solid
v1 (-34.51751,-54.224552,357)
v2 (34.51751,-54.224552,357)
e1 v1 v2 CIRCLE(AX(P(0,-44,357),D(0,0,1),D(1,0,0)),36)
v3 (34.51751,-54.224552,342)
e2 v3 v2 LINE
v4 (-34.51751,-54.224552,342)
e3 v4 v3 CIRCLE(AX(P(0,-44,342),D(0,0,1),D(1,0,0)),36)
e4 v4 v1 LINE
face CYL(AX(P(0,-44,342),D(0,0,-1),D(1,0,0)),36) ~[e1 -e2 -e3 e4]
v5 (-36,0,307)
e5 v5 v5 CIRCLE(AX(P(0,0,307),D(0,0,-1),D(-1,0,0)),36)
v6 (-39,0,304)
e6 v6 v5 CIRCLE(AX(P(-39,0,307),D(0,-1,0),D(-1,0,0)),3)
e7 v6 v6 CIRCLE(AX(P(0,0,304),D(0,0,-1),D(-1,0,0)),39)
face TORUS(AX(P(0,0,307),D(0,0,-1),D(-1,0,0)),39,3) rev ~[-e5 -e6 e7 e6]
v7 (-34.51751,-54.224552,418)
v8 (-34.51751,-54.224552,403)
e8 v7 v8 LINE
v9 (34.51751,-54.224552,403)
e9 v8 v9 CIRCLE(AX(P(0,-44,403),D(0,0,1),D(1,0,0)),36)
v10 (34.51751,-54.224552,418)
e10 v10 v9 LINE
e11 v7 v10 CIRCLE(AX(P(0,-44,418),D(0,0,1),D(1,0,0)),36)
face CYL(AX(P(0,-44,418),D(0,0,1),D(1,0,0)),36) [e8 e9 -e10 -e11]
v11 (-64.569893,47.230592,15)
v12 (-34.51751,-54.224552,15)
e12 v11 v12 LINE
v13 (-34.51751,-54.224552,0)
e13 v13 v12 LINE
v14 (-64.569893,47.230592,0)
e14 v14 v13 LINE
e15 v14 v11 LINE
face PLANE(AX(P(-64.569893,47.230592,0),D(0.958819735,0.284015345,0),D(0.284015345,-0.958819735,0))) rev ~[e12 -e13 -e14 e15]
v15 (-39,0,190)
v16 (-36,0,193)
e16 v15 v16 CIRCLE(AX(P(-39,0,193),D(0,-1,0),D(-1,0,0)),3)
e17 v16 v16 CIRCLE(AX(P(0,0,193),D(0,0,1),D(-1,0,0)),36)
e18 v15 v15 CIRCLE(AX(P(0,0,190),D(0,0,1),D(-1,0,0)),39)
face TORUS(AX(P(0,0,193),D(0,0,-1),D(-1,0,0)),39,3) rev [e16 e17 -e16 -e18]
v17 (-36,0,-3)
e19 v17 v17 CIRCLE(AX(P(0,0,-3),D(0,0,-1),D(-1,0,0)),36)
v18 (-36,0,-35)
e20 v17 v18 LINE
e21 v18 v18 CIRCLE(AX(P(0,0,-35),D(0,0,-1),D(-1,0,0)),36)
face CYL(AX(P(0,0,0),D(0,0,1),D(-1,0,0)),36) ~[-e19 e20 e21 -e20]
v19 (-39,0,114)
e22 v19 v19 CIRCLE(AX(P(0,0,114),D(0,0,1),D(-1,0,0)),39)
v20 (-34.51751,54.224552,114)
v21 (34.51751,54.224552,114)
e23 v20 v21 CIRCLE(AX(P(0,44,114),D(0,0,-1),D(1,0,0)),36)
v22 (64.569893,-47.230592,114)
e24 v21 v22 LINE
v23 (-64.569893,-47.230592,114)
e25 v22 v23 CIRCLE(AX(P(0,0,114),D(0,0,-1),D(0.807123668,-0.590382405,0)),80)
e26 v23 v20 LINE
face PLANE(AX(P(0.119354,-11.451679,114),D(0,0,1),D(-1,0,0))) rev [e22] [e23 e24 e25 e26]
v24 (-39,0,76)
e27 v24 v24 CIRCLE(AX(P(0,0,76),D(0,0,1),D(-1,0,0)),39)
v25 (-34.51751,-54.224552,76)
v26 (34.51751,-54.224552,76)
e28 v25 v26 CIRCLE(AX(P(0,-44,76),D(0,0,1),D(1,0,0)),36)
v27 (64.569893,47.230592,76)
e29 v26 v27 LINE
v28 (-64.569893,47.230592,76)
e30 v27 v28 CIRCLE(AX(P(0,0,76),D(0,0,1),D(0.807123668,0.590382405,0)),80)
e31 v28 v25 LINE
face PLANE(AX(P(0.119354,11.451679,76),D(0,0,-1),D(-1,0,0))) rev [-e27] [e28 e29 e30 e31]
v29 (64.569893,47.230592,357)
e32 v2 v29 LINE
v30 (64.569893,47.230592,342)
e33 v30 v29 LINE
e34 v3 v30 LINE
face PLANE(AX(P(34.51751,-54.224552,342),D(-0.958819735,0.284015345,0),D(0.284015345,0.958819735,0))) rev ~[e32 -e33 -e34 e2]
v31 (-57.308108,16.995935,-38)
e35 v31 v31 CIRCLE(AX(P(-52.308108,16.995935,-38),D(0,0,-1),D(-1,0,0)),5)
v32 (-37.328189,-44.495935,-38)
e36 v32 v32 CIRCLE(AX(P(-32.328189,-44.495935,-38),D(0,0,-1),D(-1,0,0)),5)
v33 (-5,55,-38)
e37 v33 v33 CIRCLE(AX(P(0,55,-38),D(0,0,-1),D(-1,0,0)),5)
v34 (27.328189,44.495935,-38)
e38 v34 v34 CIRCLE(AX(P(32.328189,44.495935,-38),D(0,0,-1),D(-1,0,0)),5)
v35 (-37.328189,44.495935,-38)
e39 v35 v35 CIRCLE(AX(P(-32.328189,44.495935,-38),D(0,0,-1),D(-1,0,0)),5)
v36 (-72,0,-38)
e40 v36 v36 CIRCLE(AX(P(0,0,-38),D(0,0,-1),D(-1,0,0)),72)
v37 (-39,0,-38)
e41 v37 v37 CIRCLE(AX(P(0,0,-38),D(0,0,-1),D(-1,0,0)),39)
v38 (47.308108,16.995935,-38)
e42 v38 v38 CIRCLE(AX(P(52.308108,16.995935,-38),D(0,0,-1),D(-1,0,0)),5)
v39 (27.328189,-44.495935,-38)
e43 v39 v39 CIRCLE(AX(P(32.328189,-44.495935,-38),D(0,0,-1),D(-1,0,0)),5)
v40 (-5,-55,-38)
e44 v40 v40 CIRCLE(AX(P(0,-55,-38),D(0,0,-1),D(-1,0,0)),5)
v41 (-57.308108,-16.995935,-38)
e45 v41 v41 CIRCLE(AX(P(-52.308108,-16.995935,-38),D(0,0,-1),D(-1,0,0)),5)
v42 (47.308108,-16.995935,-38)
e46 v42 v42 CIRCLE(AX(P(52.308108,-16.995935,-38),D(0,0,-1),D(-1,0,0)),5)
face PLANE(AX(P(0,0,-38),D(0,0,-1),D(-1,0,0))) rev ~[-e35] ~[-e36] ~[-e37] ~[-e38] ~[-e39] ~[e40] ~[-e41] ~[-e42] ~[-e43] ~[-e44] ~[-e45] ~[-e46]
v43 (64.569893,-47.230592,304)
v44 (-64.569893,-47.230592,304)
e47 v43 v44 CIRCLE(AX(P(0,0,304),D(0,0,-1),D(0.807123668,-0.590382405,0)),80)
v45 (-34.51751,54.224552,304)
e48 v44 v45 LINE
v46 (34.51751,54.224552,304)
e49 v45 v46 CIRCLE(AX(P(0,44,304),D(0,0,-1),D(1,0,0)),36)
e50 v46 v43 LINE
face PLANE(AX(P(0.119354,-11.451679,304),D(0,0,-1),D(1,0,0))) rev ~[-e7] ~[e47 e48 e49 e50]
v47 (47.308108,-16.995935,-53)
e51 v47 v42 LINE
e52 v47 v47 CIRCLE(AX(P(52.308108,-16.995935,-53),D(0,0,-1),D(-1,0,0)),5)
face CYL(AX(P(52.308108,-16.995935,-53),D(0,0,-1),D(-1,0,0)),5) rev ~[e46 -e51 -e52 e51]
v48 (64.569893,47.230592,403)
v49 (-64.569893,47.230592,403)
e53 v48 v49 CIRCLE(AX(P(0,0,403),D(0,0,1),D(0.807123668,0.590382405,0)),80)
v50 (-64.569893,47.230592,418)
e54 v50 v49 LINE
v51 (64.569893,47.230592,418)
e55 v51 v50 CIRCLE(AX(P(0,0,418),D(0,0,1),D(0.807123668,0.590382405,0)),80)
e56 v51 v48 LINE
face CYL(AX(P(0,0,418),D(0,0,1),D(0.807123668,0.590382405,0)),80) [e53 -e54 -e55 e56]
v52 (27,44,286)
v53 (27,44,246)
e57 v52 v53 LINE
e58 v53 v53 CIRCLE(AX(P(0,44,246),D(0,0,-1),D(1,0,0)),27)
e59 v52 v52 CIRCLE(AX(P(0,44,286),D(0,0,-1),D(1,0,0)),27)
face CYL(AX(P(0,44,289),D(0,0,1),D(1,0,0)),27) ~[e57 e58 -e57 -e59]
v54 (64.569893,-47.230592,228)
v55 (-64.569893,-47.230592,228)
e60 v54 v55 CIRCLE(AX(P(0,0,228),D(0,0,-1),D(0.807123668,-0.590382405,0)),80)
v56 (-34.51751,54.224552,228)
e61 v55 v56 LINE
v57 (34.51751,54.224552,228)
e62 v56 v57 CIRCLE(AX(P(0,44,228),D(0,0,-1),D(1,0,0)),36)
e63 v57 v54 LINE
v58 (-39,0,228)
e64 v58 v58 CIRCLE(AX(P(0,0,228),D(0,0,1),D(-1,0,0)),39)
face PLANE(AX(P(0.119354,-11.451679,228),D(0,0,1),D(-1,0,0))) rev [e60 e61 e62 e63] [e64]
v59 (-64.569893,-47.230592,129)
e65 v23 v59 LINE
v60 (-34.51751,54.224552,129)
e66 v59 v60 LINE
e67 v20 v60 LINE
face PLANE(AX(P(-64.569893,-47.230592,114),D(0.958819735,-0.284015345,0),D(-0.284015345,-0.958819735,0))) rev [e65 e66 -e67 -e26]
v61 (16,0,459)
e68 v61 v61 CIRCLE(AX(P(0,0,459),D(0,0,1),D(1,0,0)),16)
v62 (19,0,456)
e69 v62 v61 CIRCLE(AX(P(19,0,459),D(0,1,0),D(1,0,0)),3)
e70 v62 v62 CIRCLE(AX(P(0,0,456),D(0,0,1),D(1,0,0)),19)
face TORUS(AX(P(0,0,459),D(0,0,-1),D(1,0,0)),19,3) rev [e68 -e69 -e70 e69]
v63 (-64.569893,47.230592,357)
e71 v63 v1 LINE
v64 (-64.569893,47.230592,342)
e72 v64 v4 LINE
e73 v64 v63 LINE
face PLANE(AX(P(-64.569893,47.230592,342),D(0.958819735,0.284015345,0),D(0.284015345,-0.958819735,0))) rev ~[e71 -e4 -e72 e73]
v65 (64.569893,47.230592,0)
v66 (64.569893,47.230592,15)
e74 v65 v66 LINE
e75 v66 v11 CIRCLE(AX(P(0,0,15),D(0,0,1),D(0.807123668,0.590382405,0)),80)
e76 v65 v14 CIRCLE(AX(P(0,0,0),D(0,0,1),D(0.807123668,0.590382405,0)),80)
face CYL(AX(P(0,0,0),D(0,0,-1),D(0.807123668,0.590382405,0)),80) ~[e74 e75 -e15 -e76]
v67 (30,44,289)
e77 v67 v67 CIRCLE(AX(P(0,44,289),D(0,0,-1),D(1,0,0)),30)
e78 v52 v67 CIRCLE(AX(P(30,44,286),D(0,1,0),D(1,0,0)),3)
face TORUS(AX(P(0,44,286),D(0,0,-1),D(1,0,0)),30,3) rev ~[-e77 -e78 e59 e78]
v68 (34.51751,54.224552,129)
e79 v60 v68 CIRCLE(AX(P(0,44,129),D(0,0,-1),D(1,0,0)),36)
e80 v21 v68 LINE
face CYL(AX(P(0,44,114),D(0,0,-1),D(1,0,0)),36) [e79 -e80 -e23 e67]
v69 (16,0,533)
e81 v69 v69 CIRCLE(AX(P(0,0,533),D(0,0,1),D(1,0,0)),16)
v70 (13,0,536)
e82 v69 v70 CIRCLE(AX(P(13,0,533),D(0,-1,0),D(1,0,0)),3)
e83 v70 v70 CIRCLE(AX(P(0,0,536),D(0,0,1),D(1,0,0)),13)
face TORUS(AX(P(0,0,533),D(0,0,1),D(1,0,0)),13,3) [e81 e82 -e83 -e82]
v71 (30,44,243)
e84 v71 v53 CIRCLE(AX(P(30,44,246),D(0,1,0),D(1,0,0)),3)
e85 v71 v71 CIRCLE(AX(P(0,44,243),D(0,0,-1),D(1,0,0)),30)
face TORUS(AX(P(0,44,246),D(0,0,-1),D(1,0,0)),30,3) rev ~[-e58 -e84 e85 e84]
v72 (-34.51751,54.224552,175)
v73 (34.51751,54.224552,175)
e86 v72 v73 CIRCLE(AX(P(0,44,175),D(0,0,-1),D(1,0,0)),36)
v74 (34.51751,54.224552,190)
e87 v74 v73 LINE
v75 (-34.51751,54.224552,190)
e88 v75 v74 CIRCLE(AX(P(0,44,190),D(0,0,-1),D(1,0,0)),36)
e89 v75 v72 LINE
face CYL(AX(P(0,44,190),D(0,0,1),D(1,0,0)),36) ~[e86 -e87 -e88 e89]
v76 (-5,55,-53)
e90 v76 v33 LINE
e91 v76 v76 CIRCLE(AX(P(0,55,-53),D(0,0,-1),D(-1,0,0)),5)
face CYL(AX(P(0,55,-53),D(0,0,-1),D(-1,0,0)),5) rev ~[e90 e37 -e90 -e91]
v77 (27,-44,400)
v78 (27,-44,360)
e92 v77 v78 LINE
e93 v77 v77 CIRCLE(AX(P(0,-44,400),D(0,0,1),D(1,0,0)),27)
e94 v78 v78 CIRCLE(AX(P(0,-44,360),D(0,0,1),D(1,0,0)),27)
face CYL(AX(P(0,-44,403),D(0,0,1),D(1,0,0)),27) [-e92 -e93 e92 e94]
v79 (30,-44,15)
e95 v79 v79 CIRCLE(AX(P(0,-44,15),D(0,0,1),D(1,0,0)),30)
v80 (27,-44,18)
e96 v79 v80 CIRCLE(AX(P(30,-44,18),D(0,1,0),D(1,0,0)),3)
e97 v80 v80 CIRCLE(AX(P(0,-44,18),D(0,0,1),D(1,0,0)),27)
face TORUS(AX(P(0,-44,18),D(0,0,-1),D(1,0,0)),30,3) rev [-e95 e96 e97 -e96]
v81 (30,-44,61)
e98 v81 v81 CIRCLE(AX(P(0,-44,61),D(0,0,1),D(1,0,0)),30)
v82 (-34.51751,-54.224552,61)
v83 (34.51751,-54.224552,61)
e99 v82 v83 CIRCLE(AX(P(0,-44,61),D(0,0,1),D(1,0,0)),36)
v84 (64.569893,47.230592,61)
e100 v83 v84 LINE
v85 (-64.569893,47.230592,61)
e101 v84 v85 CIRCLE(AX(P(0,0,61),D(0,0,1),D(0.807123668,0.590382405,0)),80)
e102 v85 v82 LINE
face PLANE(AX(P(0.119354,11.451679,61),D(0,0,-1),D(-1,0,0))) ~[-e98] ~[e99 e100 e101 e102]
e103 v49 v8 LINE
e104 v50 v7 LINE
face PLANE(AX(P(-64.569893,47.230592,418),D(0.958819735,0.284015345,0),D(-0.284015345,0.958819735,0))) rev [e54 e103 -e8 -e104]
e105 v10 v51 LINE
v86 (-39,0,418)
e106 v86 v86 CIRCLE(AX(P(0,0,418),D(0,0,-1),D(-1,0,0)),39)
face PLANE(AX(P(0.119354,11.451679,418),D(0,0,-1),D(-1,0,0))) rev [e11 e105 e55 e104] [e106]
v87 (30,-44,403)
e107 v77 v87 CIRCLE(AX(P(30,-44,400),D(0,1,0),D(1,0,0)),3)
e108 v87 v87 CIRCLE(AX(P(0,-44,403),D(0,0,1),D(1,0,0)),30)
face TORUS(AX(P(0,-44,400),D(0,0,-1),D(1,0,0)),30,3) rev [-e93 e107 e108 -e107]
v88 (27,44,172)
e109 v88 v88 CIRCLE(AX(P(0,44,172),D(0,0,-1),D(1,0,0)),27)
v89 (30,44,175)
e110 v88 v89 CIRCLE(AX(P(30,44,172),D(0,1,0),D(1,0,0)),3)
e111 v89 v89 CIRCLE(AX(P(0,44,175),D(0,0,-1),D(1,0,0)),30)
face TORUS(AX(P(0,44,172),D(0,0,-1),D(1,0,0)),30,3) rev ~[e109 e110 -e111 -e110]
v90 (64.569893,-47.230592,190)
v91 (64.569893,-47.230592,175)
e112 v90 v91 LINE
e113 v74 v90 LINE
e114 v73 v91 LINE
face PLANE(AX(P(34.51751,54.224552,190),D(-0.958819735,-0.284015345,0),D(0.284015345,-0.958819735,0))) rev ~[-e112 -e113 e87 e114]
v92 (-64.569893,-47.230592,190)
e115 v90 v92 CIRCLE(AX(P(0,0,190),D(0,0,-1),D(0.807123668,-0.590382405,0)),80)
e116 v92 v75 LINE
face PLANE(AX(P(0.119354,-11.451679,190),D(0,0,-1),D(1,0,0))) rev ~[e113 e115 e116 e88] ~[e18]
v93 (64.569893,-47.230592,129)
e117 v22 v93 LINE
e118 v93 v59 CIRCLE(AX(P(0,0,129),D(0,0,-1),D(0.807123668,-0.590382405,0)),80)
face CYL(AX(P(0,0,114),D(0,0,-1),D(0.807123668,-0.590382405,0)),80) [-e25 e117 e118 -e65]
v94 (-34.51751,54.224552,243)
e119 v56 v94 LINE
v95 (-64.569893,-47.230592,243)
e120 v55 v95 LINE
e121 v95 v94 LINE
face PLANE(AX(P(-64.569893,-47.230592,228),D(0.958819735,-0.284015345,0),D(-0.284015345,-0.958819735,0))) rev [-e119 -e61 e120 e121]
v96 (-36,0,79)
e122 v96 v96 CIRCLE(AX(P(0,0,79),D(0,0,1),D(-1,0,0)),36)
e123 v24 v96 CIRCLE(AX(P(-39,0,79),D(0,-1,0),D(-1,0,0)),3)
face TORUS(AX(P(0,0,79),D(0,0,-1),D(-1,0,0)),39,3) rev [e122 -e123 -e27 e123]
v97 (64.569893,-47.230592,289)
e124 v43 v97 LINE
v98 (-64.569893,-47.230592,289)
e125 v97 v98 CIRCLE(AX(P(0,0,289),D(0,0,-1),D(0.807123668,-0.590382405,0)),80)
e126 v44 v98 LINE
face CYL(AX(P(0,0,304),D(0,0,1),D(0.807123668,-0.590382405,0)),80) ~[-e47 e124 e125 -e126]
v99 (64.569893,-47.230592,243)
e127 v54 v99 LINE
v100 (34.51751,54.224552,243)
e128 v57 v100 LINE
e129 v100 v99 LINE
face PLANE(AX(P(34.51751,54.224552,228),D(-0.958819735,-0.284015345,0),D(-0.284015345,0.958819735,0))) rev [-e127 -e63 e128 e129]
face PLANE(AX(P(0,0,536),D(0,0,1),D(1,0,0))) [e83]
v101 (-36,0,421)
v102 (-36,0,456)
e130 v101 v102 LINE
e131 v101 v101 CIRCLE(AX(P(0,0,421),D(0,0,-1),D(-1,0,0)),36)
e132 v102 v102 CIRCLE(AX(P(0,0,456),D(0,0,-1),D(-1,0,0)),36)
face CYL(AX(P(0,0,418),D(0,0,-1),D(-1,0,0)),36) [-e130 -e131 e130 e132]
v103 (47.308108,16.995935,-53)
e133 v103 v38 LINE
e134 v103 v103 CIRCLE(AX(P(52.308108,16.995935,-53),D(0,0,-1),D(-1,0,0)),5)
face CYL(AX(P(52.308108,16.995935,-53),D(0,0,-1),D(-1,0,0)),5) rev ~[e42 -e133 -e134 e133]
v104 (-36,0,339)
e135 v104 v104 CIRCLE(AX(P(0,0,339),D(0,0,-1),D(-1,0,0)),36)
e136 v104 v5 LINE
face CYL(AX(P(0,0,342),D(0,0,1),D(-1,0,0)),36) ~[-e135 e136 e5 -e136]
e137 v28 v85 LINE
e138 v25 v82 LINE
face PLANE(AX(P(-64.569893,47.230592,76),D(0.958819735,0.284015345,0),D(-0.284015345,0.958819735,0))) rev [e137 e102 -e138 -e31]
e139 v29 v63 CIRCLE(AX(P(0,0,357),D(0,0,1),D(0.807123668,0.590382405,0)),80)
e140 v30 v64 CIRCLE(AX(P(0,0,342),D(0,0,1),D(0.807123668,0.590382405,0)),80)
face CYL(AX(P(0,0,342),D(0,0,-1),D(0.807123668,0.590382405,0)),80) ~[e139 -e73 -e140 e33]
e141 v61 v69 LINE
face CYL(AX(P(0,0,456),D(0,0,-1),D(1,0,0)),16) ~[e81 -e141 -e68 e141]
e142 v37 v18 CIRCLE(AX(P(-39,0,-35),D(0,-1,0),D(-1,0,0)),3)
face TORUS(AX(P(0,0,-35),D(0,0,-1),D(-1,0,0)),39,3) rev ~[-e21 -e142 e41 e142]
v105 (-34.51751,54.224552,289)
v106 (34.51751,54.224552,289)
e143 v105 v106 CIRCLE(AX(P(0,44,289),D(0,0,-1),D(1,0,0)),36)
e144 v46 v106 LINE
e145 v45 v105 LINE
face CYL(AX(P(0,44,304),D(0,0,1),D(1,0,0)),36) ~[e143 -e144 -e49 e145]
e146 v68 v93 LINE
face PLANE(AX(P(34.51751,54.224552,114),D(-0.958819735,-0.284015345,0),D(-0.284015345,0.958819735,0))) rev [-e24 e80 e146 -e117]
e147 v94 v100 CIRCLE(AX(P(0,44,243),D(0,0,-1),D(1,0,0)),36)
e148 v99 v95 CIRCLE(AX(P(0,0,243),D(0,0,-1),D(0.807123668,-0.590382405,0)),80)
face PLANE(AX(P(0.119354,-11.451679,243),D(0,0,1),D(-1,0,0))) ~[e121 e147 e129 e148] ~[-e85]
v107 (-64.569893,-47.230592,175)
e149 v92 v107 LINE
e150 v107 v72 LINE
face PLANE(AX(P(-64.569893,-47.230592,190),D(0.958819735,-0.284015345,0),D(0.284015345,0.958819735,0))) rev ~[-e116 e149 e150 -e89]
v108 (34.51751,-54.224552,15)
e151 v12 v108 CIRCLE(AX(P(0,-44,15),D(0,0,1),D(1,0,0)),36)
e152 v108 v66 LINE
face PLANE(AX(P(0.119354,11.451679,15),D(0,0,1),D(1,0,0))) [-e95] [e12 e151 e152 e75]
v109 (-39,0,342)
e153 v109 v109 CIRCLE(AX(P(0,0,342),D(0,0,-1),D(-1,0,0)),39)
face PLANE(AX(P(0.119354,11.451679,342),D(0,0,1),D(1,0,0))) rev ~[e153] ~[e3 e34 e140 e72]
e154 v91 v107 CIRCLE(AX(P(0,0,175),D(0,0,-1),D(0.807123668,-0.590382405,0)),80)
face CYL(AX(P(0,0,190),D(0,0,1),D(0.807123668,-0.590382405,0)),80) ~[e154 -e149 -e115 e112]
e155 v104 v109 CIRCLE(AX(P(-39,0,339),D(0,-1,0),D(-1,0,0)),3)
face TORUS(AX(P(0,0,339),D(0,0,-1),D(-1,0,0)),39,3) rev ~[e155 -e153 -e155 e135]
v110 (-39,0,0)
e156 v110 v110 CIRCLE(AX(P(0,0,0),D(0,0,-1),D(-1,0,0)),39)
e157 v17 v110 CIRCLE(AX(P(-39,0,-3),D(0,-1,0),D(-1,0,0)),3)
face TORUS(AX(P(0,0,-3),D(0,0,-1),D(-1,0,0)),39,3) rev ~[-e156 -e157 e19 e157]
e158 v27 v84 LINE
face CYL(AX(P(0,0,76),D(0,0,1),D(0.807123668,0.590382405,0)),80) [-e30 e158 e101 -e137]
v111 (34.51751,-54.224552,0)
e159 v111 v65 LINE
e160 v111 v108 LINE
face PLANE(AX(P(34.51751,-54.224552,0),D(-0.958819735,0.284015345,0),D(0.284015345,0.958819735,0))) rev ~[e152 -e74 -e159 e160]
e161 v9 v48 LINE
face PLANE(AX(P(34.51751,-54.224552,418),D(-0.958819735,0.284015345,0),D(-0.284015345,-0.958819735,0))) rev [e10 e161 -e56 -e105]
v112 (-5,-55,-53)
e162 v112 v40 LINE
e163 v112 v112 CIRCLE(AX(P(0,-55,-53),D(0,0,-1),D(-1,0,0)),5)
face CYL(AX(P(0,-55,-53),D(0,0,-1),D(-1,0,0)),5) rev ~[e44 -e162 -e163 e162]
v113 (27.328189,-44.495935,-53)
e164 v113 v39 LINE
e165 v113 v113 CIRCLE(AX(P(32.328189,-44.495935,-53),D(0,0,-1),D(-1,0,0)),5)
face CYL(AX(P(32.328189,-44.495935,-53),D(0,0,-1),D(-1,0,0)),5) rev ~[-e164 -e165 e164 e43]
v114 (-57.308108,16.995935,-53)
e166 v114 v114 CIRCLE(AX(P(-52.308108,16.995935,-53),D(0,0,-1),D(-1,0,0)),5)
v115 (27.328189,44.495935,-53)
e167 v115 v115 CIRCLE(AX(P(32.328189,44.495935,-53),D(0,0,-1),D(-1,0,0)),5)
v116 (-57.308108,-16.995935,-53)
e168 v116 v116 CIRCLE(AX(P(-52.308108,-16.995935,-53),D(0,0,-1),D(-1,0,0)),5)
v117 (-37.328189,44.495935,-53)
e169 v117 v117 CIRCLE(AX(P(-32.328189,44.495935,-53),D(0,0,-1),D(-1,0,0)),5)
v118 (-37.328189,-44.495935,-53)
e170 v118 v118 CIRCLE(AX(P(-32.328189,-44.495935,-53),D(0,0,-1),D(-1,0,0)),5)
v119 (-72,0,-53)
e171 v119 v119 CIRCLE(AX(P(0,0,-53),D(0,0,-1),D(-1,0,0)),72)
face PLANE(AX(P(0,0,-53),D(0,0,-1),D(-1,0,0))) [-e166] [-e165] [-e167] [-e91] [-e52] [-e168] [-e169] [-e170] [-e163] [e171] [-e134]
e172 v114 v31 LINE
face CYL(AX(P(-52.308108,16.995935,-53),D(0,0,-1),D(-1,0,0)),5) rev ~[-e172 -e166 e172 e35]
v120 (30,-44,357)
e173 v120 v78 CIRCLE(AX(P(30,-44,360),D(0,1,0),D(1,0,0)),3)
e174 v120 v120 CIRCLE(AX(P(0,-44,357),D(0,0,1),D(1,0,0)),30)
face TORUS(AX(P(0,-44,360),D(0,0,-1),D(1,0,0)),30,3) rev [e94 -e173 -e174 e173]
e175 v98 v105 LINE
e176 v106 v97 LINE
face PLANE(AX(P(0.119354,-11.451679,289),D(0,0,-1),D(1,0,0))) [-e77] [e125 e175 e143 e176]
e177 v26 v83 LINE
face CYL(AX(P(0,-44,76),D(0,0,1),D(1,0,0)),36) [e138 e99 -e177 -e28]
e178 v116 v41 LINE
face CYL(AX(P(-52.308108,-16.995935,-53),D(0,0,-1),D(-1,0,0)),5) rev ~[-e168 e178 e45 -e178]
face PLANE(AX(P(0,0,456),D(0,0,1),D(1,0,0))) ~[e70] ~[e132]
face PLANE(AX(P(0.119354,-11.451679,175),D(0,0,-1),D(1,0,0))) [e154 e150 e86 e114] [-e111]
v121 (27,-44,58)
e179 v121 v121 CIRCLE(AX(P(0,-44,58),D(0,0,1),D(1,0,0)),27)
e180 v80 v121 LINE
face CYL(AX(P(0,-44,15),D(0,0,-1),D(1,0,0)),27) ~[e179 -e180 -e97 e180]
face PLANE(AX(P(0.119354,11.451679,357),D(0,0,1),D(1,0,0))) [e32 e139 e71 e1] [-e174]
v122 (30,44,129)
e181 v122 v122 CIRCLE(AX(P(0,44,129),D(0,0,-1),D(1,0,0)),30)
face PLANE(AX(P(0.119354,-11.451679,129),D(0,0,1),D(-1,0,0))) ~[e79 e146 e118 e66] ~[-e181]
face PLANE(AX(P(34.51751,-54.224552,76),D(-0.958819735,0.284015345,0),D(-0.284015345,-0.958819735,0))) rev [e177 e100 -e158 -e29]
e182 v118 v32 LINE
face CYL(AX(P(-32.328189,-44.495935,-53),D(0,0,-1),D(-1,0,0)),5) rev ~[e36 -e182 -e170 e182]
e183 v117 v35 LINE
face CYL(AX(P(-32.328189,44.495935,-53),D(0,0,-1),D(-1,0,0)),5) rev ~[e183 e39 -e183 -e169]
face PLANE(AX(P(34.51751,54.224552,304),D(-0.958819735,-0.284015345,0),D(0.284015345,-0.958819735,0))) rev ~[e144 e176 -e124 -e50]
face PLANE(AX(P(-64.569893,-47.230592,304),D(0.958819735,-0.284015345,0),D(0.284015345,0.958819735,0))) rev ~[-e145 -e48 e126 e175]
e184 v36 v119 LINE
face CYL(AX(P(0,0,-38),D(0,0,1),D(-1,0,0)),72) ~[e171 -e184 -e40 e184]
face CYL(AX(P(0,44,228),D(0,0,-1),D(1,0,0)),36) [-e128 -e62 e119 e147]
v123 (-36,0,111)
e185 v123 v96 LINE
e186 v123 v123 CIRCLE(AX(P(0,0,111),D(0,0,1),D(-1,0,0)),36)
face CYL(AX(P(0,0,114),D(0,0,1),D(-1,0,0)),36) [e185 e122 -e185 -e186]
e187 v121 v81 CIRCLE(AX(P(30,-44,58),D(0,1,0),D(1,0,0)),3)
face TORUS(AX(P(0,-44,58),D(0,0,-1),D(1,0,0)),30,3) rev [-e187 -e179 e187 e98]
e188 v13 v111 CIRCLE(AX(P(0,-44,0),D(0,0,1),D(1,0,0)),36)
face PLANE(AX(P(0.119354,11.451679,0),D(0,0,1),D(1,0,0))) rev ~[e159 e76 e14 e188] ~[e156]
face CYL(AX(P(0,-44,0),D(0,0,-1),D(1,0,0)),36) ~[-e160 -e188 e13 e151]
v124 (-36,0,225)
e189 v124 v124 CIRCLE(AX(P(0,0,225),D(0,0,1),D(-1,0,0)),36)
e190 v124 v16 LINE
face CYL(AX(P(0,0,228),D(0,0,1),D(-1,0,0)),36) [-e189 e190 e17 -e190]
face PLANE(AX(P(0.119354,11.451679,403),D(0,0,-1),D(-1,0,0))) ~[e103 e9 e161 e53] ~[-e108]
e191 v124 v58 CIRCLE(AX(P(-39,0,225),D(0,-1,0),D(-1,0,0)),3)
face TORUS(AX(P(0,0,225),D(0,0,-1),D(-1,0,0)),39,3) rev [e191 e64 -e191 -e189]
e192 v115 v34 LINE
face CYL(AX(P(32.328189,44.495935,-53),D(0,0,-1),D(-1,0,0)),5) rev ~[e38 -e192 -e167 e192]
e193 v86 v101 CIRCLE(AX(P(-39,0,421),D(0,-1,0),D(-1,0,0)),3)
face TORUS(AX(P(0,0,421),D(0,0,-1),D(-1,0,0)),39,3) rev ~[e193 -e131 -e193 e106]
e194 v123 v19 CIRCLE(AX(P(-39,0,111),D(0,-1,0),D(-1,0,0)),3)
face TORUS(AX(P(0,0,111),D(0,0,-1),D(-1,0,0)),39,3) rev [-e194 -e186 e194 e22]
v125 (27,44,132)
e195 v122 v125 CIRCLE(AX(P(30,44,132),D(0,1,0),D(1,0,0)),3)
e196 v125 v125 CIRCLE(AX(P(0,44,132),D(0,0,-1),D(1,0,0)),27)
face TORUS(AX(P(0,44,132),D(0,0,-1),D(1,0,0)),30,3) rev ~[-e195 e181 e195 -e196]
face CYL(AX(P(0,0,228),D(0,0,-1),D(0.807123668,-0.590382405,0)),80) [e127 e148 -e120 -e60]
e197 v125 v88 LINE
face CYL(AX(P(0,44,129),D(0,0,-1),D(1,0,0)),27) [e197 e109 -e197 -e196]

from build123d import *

# Parameters (mm, degrees)
SKETCH1_R             = 36
BOSS_EXTRUDE1_DEPTH   = 15
SKETCH2_R             = 27
BOSS_EXTRUDE2_DEPTH   = 46
SKETCH3_R             = 36
BOSS_EXTRUDE3_DEPTH   = 38
BODY_MOVE_COPY1_ANGLE = 180
SKETCH5_R             = 16
BOSS_EXTRUDE4_DEPTH   = 80
SKETCH6_R             = 72
BOSS_EXTRUDE5_DEPTH   = 15
SKETCH7_R             = 5
CUT_EXTRUDE1_DEPTH    = 15
FILLET1_R             = 3


with BuildPart() as part:
    # Sketch1 → Boss-Extrude1 (new body)
    with BuildSketch(Plane.XY):
        with BuildLine():
            ThreePointArc((64.569893475, 47.23059238), (0, 80), (-64.569893475, 47.23059238))
            Line((-64.569893475, 47.23059238), (-34.517510455, -54.224552409))
            ThreePointArc((-34.517510455, -54.224552409), (-5.165734392, -8.372550074), (36, -44))
            ThreePointArc((36, -44), (35.627449926, -49.165734392), (34.517510455, -54.224552409))
            Line((34.517510455, -54.224552409), (64.569893475, 47.23059238))
        make_face()
        with Locations((0, -44)):
            Circle(SKETCH1_R)
    boss_extrude1 = extrude(amount=BOSS_EXTRUDE1_DEPTH)

    # Sketch2 → Boss-Extrude2 (add)
    with BuildSketch(Plane.XY.offset(15)):
        with Locations((0, -44)):
            Circle(SKETCH2_R)
    extrude(amount=BOSS_EXTRUDE2_DEPTH)

    # Sketch3 → Boss-Extrude3 (add)
    with BuildSketch(Plane(origin=(0, 0, 0), x_dir=(-1, 0, 0), z_dir=(0, 0, -1))):
        Circle(SKETCH3_R)
    boss_extrude3 = extrude(amount=BOSS_EXTRUDE3_DEPTH)

    # Mirror1: Boss-Extrude1, Boss-Extrude3 across plane
    add(boss_extrude1.mirror(Plane.XY.offset(38)))
    add(boss_extrude3.mirror(Plane.XY.offset(38)))


with BuildPart() as body_2:
    # Mirror2: mirrored copy
    add(part.part.mirror(Plane.XY.offset(95)))


with BuildPart() as body_2_1:
    # Body-Move/Copy1: moved
    add(body_2.part.rotate(Axis((0, 0, 152), (1, 0, 0)), BODY_MOVE_COPY1_ANGLE))


with BuildPart() as body_3:
    # Mirror3: mirrored copy
    add(body_2_1.part.mirror(Plane.XY.offset(209)))


with BuildPart() as body_4:
    # Mirror3 2: mirrored copy
    add(part.part.mirror(Plane.XY.offset(209)))

    # Sketch5 → Boss-Extrude4 (add)
    with BuildSketch(Plane.XY.offset(456)):
        Circle(SKETCH5_R)
    extrude(amount=BOSS_EXTRUDE4_DEPTH)


with BuildPart() as part_1:
    add(part.part)

    # Sketch6 → Boss-Extrude5 (add)
    with BuildSketch(Plane(origin=(0, 0, -38), x_dir=(-1, 0, 0), z_dir=(0, 0, -1))):
        Circle(SKETCH6_R)
    extrude(amount=BOSS_EXTRUDE5_DEPTH)

    # Sketch7 → Cut-Extrude1 (cut)
    with BuildSketch(Plane(origin=(0, 0, -53), x_dir=(-1, 0, 0), z_dir=(0, 0, -1))):
        with Locations((0, 55)):
            Circle(SKETCH7_R)
        with Locations((32.328188876, 44.495934691)):
            Circle(SKETCH7_R)
        with Locations((52.308108396, 16.995934691)):
            Circle(SKETCH7_R)
        with Locations((52.308108396, -16.995934691)):
            Circle(SKETCH7_R)
        with Locations((32.328188876, -44.495934691)):
            Circle(SKETCH7_R)
        with Locations((0, -55)):
            Circle(SKETCH7_R)
        with Locations((-32.328188876, -44.495934691)):
            Circle(SKETCH7_R)
        with Locations((-52.308108396, -16.995934691)):
            Circle(SKETCH7_R)
        with Locations((-52.308108396, 16.995934691)):
            Circle(SKETCH7_R)
        with Locations((-32.328188876, 44.495934691)):
            Circle(SKETCH7_R)
    extrude(amount=-CUT_EXTRUDE1_DEPTH, mode=Mode.SUBTRACT)


with BuildPart() as body_4_1:
    add(body_4.part)

    # Combine1: union body 3, body 2, part
    add(body_3.part)
    add(body_2_1.part)
    add(part_1.part)

    # Fillet1
    fillet1_edges = [body_4_1.edges().sort_by_distance(p)[0] for p in [
        (-27, -44, 403),
        (-27, -44, 357),
        (36, 0, 418),
        (36, 0, 304),
        (36, 0, 342),
        (-16, 0, 456),
        (-16, 0, 536),
        (-27, 44, 289),
        (-27, 44, 243),
        (36, 0, 228),
        (36, 0, 190),
        (-27, 44, 129),
        (36, 0, 114),
        (-27, 44, 175),
        (-27, -44, 15),
        (36, 0, 0),
        (-27, -44, 61),
        (36, 0, 76),
        (36, 0, -38),
    ]]
    fillet(fillet1_edges, radius=FILLET1_R)


solid = body_4_1.part
